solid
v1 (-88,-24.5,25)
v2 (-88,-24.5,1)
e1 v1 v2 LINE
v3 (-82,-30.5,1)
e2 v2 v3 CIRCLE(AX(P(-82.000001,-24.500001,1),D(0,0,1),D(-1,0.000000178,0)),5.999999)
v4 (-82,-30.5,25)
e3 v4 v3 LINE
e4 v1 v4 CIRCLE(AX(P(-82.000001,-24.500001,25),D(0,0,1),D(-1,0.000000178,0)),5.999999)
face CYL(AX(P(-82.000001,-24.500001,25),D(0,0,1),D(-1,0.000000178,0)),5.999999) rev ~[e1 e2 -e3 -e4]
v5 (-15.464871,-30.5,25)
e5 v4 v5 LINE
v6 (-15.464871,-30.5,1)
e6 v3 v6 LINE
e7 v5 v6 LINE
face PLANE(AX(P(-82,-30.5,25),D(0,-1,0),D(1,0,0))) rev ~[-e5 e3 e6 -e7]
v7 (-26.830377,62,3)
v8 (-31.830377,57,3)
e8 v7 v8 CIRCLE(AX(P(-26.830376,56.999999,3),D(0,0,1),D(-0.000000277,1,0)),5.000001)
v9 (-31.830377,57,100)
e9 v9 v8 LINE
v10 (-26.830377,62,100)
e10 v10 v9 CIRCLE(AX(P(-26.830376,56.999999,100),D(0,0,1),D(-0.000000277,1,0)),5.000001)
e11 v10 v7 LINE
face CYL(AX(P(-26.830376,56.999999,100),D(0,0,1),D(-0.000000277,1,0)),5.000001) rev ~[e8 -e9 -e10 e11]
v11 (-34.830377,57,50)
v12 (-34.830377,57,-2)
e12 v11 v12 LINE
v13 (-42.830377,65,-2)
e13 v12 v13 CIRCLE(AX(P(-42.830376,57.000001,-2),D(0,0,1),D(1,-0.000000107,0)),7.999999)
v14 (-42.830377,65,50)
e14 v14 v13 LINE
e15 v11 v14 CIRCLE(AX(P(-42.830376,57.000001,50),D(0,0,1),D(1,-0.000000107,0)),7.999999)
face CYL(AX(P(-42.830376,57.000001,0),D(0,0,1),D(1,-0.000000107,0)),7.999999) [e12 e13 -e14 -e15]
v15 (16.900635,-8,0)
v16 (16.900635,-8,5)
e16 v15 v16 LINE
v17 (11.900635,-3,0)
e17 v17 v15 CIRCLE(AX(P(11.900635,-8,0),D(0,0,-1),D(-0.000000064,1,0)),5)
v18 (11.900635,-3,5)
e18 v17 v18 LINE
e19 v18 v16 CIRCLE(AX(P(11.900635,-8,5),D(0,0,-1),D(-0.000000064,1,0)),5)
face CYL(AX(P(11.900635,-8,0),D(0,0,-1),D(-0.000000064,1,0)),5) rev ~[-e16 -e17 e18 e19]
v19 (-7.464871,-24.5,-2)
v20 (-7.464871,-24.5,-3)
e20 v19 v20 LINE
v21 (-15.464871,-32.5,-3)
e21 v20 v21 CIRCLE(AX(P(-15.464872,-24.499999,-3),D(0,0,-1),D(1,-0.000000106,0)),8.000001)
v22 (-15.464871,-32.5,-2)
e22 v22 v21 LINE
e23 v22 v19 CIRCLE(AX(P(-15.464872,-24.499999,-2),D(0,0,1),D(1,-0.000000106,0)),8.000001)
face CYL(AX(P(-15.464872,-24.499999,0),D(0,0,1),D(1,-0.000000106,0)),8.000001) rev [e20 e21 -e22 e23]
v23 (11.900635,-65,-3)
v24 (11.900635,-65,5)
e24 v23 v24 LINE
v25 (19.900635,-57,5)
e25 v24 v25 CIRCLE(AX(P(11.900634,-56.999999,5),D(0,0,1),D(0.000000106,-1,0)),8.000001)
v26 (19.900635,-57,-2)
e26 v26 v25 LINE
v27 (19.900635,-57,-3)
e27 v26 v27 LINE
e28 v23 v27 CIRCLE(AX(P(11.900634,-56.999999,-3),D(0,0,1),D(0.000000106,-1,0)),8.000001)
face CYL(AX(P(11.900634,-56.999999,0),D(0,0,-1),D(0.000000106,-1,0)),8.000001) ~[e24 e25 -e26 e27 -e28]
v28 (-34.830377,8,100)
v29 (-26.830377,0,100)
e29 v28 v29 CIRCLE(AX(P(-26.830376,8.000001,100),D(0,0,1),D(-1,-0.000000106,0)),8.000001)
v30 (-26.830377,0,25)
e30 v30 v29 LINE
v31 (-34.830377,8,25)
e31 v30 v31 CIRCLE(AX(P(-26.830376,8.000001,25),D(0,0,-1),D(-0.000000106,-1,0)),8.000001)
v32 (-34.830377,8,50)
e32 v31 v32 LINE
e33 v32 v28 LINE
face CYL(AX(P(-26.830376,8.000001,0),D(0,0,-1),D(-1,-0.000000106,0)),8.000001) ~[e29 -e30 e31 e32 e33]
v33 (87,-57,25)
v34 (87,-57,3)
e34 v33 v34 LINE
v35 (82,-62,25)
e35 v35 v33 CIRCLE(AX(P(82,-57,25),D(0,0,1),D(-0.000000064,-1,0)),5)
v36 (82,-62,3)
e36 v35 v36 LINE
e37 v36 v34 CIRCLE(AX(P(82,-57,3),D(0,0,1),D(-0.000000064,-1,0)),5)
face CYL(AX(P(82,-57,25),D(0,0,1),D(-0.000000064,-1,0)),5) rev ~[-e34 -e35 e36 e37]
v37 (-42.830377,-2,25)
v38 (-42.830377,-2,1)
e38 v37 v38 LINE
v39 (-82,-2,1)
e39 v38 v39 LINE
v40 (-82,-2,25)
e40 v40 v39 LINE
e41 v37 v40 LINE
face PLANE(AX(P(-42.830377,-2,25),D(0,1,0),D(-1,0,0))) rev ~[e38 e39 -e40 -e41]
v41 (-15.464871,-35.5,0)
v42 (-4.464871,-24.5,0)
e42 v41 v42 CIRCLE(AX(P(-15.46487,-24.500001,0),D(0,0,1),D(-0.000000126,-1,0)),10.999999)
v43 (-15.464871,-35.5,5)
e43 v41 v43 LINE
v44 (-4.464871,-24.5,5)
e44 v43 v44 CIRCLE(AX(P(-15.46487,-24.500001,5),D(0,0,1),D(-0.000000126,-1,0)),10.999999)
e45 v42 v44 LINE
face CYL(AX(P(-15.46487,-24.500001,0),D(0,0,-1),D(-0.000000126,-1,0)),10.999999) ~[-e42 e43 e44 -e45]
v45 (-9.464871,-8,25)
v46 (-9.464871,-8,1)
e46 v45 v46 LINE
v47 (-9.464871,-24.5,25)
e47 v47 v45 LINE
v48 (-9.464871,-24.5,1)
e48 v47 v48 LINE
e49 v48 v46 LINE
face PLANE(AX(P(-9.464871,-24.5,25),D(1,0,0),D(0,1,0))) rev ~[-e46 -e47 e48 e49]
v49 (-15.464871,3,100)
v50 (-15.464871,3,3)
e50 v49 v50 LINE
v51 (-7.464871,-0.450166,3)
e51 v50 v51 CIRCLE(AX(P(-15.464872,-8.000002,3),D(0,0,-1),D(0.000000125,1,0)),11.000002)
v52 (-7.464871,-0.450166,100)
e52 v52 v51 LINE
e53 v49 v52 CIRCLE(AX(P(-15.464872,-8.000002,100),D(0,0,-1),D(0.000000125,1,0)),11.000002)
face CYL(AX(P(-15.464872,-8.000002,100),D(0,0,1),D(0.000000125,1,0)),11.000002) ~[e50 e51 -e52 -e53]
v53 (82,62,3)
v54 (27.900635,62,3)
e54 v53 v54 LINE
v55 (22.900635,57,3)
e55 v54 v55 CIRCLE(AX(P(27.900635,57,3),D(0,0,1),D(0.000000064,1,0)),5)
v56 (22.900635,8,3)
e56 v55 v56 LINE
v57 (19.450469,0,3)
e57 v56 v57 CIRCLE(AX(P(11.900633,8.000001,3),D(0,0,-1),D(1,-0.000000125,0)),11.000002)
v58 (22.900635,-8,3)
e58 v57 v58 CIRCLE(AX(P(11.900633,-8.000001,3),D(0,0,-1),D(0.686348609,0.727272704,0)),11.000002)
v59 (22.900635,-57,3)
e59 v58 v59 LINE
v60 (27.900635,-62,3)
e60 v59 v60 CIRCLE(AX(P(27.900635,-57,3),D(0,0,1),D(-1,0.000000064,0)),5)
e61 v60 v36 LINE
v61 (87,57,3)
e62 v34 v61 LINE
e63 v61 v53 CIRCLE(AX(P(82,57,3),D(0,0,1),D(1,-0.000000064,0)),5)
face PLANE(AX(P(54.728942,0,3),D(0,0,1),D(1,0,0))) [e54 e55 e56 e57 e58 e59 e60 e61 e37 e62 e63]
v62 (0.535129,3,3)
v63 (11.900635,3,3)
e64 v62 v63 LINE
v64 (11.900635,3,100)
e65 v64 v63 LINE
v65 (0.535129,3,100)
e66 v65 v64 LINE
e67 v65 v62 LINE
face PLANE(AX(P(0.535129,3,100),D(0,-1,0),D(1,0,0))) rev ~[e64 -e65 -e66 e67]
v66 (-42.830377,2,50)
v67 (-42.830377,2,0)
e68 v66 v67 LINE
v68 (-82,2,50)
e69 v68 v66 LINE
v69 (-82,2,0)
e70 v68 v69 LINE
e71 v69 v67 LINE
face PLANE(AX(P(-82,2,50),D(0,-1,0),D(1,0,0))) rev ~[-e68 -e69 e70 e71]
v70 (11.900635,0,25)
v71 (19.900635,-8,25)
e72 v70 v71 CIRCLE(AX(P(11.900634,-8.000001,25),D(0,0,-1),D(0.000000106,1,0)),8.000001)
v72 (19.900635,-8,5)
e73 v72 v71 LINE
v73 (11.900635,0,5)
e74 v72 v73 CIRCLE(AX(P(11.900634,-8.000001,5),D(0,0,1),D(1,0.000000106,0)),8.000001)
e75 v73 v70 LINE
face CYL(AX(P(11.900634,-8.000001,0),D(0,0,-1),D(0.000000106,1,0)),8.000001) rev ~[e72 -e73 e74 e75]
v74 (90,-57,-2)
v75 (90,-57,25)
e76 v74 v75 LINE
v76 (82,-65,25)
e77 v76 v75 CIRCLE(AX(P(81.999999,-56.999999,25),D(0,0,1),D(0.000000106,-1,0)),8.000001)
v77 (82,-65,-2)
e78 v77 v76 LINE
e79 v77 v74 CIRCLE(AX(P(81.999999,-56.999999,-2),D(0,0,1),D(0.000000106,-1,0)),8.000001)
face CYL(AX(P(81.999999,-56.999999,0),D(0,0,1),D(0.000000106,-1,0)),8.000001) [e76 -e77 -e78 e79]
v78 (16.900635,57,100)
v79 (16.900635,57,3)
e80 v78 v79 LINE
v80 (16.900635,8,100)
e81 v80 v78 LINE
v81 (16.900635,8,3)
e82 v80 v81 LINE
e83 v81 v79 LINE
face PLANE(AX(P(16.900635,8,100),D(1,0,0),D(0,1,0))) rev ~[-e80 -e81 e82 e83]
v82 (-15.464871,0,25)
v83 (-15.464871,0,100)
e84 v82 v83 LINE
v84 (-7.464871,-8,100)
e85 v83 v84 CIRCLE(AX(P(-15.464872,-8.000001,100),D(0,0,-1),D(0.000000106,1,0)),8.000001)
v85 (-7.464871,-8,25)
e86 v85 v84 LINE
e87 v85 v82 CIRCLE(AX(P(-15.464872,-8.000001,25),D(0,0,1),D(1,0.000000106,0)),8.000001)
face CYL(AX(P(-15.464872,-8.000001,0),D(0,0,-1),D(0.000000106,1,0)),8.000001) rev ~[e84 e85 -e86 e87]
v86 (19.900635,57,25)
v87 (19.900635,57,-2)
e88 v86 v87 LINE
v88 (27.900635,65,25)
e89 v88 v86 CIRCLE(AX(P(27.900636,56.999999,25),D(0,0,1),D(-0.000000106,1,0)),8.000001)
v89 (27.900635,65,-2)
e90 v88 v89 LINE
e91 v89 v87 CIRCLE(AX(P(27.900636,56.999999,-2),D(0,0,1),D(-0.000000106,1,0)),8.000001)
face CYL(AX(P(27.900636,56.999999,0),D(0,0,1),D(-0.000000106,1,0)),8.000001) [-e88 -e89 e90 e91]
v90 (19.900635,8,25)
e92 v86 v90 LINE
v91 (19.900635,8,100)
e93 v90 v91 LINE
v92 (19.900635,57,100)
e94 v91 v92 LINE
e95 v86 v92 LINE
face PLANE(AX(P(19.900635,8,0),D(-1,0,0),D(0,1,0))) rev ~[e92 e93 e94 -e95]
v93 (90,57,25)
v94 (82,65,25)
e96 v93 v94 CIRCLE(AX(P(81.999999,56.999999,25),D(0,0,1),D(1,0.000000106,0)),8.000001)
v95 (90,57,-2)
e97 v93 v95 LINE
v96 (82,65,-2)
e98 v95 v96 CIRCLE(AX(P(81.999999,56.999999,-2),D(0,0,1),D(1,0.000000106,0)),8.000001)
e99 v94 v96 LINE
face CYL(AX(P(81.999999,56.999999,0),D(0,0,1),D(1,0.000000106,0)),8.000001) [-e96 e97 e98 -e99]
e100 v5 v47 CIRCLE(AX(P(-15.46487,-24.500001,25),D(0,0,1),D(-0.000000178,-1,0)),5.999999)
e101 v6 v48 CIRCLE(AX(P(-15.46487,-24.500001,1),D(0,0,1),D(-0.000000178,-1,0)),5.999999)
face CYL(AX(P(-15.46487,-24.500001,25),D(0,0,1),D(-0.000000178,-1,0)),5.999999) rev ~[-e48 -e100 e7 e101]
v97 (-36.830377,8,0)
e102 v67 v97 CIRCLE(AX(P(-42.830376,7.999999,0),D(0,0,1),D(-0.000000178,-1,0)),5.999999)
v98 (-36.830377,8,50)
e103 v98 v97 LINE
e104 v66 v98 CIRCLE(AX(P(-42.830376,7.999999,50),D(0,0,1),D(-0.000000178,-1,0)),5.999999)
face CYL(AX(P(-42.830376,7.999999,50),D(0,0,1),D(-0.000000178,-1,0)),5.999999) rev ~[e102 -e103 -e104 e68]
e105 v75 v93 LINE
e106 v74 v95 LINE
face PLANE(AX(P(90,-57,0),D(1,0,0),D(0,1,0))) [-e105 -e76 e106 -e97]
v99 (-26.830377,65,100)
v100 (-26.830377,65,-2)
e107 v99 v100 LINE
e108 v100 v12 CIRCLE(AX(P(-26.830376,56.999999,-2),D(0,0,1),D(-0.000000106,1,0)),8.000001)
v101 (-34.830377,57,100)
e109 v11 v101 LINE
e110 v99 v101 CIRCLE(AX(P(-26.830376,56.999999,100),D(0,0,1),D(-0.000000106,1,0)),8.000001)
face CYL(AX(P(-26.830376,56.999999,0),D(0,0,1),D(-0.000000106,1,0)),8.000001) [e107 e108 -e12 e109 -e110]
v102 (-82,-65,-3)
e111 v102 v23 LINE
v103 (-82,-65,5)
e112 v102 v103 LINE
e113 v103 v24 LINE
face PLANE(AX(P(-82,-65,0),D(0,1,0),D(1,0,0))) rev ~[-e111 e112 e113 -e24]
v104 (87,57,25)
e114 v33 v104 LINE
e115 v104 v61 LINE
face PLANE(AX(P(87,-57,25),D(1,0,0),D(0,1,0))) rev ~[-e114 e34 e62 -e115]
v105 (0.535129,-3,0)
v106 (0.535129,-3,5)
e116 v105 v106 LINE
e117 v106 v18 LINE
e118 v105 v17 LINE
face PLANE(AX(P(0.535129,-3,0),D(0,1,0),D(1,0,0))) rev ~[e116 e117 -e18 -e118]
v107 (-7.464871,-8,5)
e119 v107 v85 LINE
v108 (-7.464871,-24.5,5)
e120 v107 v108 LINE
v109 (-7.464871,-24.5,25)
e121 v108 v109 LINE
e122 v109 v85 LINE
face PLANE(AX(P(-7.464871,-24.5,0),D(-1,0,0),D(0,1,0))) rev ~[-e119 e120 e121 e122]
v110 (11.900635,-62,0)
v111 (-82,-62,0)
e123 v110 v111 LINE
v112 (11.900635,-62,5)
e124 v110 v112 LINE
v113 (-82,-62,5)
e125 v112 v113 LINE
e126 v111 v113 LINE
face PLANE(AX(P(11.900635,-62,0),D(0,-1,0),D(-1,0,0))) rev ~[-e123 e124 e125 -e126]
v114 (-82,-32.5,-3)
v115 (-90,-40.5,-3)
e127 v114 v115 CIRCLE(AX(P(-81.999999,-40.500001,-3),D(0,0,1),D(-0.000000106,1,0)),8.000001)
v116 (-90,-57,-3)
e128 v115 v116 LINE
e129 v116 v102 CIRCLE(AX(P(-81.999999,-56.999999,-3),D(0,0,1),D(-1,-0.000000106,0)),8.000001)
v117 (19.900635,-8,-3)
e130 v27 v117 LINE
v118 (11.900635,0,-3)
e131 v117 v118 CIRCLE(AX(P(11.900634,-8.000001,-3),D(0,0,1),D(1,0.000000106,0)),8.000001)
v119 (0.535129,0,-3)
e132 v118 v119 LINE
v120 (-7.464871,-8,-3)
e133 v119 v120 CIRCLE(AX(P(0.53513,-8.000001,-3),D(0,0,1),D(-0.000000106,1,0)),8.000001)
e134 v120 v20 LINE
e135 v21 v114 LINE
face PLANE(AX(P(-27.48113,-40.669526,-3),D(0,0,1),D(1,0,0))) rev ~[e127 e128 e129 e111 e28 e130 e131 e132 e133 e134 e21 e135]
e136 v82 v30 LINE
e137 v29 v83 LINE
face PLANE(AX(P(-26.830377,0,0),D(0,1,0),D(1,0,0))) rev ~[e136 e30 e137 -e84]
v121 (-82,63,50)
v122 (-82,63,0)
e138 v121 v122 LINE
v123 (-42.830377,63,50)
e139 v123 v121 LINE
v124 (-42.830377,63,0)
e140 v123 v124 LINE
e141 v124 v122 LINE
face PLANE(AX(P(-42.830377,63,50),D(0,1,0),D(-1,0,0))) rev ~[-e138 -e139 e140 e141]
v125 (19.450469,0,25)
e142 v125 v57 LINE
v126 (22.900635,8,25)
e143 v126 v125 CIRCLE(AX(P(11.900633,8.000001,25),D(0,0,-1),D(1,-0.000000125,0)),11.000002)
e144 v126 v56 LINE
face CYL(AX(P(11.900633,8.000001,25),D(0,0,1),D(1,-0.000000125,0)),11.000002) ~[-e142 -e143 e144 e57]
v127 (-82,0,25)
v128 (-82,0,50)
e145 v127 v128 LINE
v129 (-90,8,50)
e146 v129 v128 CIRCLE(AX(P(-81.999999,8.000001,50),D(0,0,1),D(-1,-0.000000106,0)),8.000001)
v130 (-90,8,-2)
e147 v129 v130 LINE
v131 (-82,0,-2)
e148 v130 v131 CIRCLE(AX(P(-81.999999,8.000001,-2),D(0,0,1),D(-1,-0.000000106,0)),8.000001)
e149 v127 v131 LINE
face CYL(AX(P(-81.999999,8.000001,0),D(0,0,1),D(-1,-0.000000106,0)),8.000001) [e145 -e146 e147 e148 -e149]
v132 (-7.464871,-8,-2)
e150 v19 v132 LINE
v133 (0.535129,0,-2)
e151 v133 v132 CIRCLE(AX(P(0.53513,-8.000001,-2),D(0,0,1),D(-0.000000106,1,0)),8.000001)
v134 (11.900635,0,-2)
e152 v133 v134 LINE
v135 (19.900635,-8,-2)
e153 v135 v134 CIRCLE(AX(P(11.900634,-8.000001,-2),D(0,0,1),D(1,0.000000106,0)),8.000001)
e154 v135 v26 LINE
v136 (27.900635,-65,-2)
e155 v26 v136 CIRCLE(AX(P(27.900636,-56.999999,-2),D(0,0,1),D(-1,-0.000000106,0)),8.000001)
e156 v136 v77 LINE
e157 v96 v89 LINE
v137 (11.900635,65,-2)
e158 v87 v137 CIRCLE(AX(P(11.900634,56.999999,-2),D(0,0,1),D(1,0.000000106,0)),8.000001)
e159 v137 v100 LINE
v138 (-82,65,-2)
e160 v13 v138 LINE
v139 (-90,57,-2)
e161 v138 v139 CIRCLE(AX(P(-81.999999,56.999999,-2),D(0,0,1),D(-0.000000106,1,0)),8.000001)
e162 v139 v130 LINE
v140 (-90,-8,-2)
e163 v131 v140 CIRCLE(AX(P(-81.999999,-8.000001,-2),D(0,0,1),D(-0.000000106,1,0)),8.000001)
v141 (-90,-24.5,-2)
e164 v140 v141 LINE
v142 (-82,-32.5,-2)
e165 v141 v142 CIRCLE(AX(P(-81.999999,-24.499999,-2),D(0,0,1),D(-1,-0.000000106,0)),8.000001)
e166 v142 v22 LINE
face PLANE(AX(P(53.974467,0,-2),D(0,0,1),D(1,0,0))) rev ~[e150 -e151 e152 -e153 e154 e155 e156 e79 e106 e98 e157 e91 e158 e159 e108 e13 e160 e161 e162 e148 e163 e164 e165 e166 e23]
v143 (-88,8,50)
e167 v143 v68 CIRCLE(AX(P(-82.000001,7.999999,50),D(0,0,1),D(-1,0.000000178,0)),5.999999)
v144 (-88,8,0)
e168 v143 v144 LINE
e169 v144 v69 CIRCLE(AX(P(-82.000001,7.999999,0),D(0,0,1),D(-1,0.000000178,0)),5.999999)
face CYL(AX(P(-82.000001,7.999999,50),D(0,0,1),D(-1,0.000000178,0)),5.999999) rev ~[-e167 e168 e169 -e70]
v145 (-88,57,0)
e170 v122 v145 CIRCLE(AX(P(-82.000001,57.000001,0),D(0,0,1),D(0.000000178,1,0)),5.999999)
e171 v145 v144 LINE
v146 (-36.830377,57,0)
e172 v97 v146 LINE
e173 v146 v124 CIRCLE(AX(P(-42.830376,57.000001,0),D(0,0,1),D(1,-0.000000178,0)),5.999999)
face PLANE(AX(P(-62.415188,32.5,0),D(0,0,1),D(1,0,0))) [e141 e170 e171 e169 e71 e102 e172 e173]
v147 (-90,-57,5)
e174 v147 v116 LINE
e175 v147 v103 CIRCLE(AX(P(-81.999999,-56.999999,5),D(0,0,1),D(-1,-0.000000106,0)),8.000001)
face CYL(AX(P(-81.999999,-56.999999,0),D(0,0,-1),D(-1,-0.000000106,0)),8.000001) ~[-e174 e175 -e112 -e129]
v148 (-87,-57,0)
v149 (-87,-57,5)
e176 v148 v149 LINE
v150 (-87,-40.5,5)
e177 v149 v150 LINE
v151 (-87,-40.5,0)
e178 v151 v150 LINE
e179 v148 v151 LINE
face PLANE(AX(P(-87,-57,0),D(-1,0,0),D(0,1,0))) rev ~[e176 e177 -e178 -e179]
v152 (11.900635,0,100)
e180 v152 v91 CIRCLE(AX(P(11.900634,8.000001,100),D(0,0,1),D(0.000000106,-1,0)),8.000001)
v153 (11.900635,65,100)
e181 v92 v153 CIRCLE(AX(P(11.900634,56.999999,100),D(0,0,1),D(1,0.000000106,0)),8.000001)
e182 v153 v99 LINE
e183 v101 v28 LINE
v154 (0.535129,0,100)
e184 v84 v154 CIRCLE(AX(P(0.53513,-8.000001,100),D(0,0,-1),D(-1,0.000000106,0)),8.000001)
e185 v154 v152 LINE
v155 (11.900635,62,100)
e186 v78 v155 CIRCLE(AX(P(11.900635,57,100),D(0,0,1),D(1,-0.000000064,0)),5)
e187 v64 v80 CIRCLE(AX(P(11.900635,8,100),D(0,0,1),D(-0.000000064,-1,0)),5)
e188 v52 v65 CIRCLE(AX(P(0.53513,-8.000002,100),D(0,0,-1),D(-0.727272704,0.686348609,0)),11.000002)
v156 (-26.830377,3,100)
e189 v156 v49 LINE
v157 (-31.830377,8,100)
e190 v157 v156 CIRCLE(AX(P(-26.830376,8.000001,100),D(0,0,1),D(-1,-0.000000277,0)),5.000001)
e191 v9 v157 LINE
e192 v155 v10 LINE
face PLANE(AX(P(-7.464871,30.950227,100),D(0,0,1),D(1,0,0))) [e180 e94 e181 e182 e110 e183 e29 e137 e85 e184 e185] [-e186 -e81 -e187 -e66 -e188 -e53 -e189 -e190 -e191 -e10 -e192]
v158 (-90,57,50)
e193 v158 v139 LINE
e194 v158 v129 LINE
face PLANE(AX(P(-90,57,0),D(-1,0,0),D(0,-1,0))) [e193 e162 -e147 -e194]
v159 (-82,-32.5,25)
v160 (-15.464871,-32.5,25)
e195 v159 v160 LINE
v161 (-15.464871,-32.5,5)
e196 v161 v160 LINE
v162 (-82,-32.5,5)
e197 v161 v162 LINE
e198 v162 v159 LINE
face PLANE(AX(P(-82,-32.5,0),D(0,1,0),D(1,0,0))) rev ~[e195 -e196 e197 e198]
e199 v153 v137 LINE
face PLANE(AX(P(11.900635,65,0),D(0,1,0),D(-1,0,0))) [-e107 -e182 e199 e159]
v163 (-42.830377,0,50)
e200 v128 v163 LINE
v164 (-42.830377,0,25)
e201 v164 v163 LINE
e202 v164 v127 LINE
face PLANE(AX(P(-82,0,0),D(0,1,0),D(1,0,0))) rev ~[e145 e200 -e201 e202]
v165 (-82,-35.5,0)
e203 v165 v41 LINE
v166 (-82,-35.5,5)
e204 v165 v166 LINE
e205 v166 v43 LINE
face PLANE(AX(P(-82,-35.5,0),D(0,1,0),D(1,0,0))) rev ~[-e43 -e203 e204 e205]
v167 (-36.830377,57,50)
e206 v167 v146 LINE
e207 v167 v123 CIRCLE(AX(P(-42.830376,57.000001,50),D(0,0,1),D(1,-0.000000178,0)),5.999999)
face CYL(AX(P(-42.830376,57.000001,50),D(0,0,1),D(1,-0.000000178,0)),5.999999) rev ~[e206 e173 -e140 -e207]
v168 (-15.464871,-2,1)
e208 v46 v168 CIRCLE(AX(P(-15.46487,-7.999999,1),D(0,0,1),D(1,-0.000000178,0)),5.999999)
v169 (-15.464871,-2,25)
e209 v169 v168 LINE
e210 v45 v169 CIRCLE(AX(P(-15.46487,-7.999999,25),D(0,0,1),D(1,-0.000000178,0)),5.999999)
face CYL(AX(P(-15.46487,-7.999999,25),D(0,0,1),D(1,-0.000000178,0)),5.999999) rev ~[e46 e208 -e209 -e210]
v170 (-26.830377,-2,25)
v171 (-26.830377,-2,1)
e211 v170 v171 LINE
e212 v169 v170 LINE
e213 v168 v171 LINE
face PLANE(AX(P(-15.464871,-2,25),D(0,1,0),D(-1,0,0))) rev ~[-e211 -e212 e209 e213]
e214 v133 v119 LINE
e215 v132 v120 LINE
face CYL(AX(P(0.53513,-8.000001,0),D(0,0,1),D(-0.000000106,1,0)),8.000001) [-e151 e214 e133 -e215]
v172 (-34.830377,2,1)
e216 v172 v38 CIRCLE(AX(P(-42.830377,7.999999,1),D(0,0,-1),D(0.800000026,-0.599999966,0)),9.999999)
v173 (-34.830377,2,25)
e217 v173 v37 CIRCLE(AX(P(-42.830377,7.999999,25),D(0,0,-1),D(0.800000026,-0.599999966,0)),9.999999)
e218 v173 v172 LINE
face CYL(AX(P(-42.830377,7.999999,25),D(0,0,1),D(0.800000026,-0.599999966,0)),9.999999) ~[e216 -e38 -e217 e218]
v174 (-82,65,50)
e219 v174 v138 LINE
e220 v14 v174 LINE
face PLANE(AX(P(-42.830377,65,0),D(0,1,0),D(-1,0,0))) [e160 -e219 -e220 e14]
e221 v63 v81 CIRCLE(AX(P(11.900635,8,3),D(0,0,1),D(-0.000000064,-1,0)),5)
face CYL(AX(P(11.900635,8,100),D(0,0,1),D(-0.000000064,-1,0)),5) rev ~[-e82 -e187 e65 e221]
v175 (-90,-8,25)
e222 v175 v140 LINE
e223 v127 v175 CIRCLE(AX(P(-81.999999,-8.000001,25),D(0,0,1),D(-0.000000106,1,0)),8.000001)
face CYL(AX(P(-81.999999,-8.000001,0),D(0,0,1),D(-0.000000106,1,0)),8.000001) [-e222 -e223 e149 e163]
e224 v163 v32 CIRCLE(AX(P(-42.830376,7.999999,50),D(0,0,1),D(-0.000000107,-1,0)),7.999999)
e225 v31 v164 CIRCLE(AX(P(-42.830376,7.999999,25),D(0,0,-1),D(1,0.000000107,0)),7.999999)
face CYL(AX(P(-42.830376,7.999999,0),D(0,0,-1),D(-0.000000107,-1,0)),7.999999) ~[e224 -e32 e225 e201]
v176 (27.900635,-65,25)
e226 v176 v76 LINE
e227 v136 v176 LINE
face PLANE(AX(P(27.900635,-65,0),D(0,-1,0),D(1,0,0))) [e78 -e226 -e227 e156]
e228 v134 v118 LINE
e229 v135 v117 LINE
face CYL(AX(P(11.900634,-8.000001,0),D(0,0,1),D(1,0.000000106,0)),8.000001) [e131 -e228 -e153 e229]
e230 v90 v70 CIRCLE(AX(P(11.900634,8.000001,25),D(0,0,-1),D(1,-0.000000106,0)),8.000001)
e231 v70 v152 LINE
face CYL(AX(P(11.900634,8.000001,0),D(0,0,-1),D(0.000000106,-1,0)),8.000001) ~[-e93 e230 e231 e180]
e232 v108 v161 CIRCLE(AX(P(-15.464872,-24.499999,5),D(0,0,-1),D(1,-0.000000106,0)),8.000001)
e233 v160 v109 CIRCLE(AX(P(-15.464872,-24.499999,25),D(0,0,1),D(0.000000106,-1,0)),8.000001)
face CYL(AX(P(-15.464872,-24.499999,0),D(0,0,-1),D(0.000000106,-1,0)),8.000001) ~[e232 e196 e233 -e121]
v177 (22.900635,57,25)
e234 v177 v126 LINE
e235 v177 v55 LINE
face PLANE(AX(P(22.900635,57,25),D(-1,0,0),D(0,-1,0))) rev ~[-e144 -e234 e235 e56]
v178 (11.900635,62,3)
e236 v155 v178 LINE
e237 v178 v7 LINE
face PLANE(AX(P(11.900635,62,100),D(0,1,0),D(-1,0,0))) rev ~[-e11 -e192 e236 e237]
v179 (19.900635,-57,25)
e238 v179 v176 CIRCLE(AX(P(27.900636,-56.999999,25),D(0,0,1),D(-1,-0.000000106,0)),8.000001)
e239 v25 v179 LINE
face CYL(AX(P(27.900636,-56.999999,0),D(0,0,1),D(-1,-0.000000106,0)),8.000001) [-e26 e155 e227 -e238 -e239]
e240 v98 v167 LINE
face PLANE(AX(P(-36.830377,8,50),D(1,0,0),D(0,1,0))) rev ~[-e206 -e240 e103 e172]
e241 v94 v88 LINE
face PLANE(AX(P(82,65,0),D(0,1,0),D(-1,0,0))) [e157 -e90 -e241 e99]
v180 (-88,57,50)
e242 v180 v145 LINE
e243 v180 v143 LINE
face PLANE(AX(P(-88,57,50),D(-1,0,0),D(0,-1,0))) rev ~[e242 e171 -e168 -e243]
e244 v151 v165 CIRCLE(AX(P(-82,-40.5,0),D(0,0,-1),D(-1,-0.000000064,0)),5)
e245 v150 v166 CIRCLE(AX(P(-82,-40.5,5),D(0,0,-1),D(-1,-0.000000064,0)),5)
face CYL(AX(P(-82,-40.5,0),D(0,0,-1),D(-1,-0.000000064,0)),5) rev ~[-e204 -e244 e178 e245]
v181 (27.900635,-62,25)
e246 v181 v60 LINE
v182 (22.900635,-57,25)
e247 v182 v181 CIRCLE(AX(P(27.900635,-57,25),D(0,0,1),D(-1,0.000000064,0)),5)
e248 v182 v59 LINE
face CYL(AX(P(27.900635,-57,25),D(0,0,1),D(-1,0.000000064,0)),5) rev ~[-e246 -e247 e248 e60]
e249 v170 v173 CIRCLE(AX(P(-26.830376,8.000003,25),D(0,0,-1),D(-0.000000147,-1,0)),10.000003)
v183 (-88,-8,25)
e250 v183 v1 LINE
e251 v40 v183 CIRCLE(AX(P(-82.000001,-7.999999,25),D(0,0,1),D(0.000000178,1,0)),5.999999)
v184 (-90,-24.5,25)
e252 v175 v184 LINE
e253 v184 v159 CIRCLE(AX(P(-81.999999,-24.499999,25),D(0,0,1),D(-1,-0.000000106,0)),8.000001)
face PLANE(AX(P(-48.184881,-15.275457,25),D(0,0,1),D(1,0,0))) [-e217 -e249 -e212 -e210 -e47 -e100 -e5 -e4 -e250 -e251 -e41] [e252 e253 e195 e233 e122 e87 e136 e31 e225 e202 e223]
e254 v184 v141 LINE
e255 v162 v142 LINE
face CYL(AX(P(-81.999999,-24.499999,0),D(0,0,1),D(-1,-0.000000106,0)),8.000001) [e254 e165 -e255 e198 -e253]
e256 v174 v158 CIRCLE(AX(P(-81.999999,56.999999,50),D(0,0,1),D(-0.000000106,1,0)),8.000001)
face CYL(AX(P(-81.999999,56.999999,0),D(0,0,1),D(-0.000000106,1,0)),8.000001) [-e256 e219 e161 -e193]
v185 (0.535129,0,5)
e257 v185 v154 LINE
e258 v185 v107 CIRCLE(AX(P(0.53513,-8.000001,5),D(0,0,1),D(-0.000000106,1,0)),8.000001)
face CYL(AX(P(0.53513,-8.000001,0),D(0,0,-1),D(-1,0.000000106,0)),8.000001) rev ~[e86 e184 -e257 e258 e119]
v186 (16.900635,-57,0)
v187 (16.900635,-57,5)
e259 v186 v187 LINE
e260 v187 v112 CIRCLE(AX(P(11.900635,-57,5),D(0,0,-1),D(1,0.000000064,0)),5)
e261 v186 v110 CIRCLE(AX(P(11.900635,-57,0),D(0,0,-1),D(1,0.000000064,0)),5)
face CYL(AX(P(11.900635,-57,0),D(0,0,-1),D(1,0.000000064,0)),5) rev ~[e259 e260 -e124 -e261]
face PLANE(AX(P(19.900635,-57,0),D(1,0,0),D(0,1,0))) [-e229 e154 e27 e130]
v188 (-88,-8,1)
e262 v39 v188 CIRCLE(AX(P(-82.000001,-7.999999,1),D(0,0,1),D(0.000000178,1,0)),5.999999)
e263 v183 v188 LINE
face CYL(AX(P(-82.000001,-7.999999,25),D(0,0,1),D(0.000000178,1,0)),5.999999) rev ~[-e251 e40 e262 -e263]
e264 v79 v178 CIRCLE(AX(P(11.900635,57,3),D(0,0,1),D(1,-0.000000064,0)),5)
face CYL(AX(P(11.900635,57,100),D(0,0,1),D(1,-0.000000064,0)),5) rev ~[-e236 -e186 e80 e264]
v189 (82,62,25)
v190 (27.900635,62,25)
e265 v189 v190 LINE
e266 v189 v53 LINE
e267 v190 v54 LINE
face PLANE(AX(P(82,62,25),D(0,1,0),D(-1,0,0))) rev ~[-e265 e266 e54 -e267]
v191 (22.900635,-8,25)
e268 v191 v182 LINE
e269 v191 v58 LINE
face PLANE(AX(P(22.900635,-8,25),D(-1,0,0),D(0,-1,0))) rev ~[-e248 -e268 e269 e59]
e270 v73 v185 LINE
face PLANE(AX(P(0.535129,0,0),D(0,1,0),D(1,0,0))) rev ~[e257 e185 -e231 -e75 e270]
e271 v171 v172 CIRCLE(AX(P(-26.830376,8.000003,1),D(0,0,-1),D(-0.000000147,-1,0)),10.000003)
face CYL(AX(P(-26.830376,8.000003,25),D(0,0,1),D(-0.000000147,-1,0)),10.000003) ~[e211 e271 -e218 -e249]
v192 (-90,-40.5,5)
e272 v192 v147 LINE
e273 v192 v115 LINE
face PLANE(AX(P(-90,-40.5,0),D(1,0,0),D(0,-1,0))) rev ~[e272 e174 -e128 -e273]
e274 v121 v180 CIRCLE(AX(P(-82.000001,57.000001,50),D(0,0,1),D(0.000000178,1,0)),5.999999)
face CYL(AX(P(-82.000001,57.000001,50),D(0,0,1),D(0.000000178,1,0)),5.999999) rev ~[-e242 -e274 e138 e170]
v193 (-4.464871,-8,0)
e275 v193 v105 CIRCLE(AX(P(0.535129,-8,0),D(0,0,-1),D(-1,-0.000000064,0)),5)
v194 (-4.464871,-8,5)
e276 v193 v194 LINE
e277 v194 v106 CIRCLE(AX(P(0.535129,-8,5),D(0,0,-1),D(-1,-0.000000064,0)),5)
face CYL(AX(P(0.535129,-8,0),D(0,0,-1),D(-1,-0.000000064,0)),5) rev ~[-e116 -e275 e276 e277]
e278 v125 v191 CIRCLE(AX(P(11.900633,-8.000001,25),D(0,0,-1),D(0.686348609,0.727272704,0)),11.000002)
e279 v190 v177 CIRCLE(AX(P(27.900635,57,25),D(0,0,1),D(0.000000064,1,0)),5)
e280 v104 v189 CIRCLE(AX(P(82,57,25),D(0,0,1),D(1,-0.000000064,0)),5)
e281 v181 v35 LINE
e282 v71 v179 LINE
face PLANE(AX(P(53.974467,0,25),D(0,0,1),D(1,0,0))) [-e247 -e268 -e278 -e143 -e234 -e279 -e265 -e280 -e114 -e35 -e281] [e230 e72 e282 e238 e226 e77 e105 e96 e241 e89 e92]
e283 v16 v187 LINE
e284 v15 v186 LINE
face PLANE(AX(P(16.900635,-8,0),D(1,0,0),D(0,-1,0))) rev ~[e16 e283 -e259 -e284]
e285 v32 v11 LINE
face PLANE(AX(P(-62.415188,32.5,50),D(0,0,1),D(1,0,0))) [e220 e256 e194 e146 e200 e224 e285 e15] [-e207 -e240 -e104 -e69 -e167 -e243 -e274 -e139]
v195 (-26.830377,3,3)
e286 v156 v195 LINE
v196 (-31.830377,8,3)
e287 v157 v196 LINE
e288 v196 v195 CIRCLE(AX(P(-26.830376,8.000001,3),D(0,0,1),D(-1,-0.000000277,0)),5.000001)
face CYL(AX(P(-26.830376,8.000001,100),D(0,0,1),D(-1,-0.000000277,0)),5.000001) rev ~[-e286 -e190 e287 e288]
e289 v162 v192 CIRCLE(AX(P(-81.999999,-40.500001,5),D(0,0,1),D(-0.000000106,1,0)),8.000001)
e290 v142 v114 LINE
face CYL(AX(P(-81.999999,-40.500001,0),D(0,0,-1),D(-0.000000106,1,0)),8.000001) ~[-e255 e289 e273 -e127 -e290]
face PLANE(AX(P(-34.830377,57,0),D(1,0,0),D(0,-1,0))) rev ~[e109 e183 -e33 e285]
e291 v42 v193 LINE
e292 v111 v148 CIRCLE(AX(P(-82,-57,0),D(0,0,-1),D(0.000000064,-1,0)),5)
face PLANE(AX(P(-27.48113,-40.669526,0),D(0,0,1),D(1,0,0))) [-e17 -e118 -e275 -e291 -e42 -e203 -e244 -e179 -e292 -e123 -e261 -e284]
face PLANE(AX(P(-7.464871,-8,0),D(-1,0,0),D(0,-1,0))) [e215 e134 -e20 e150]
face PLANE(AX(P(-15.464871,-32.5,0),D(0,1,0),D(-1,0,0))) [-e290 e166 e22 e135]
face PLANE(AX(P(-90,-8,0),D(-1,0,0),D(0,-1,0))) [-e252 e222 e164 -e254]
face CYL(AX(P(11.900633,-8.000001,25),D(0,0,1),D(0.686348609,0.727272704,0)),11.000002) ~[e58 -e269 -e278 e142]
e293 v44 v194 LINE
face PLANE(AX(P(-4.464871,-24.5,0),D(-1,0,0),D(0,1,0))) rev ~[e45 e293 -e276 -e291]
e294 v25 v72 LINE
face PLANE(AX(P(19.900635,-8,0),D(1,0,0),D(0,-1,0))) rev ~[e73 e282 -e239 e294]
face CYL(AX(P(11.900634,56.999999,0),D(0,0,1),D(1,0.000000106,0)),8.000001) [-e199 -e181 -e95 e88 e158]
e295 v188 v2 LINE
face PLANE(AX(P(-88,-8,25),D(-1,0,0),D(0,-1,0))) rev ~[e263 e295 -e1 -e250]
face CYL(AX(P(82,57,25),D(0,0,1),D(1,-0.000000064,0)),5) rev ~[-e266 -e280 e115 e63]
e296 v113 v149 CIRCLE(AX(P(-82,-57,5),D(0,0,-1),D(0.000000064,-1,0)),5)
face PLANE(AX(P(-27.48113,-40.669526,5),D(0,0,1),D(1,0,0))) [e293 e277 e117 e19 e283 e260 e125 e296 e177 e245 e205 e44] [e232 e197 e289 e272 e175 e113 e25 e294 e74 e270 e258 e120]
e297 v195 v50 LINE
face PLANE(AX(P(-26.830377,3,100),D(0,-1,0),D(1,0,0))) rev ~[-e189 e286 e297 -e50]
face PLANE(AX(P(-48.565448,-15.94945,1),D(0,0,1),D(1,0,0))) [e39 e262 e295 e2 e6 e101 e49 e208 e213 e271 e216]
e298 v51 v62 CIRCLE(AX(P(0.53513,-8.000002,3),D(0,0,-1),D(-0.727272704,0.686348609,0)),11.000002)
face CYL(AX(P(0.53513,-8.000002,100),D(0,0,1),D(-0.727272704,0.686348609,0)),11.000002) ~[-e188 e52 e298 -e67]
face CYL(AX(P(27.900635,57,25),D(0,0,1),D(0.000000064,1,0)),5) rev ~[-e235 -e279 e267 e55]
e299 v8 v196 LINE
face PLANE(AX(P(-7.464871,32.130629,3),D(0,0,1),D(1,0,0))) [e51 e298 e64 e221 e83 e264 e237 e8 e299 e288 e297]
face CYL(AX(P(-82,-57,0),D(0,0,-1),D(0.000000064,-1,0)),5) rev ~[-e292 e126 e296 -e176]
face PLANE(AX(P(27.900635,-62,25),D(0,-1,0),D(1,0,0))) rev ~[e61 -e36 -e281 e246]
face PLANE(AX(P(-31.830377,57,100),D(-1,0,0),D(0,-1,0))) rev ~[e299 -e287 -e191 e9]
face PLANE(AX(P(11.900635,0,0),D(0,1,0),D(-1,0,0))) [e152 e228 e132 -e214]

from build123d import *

# Parameters (mm, degrees)
F1_DEPTH  = 3
F2_DEPTH  = 50
F3_DEPTH  = 100
F4_DEPTH  = 25
F5_DEPTH  = 25
F7_DEPTH  = 22
F8_DEPTH  = 2
F10_DEPTH = 97
F12_DEPTH = 50
F14_DEPTH = 24
F16_DEPTH = 5


with BuildPart() as f1:
    # F0 (on Top) → F1 (new body)
    with BuildSketch(Plane.XY):
        with BuildLine():
            Line((-82, -65), (11.900635, -65))
            ThreePointArc((11.900635, -65), (17.557489, -62.656854), (19.900635, -57))
            Line((19.900635, -57), (19.900635, -8))
            ThreePointArc((19.900635, -8), (17.557489, -2.343146), (11.900635, 0))
            Line((11.900635, 0), (0.535129, 0))
            ThreePointArc((0.535129, 0), (-5.121725, -2.343146), (-7.464871, -8))
            Line((-7.464871, -8), (-7.464871, -24.5))
            ThreePointArc((-7.464871, -24.5), (-9.808017, -30.156854), (-15.464871, -32.5))
            Line((-15.464871, -32.5), (-82, -32.5))
            ThreePointArc((-82, -32.5), (-87.656854, -34.843146), (-90, -40.5))
            Line((-90, -40.5), (-90, -57))
            ThreePointArc((-90, -57), (-87.656854, -62.656854), (-82, -65))
        make_face()
    extrude(amount=-F1_DEPTH)



with BuildPart() as f2:
    # F0 (on Top) → F2 (new body)
    with BuildSketch(Plane.XY):
        with BuildLine():
            ThreePointArc((-90, 8), (-87.656854, 2.343146), (-82, 0))
            Line((-82, 0), (-42.830377, 0))
            ThreePointArc((-42.830377, 0), (-37.173522, 2.343146), (-34.830377, 8))
            Line((-34.830377, 8), (-34.830377, 57))
            ThreePointArc((-34.830377, 57), (-37.173522, 62.656854), (-42.830377, 65))
            Line((-42.830377, 65), (-82, 65))
            ThreePointArc((-82, 65), (-87.656854, 62.656854), (-90, 57))
            Line((-90, 57), (-90, 8))
        make_face()
    extrude(amount=F2_DEPTH)


with BuildPart() as f1_1:
    add(f1.part)

    add(f2.part)  # F3 merges F2
    # F0 (on Top) → F3 (join)
    with BuildSketch(Plane.XY):
        with BuildLine():
            Line((0.535129, 0), (11.900635, 0))
            ThreePointArc((11.900635, 0), (17.557489, 2.343146), (19.900635, 8))
            Line((19.900635, 8), (19.900635, 57))
            ThreePointArc((19.900635, 57), (17.557489, 62.656854), (11.900635, 65))
            Line((11.900635, 65), (-26.830377, 65))
            ThreePointArc((-26.830377, 65), (-32.487231, 62.656854), (-34.830377, 57))
            Line((-34.830377, 57), (-34.830377, 8))
            ThreePointArc((-34.830377, 8), (-32.487231, 2.343146), (-26.830377, 0))
            Line((-26.830377, 0), (-15.464871, 0))
            ThreePointArc((-15.464871, 0), (-9.808017, -2.343146), (-7.464871, -8))
            ThreePointArc((-7.464871, -8), (-5.121725, -2.343146), (0.535129, 0))
        make_face()
    extrude(amount=F3_DEPTH)

    # F0 (on Top) → F4 (join)
    with BuildSketch(Plane.XY):
        with BuildLine():
            ThreePointArc((-90, -24.5), (-87.656854, -30.156854), (-82, -32.5))
            Line((-82, -32.5), (-15.464871, -32.5))
            ThreePointArc((-15.464871, -32.5), (-9.808017, -30.156854), (-7.464871, -24.5))
            Line((-7.464871, -24.5), (-7.464871, -8))
            ThreePointArc((-7.464871, -8), (-9.808017, -2.343146), (-15.464871, 0))
            Line((-15.464871, 0), (-26.830377, 0))
            ThreePointArc((-26.830377, 0), (-32.487231, 2.343146), (-34.830377, 8))
            ThreePointArc((-34.830377, 8), (-37.173522, 2.343146), (-42.830377, 0))
            Line((-42.830377, 0), (-82, 0))
            ThreePointArc((-82, 0), (-87.656854, -2.343146), (-90, -8))
            Line((-90, -8), (-90, -24.5))
        make_face()
    extrude(amount=F4_DEPTH)

    # F0 (on Top) → F5 (join)
    with BuildSketch(Plane.XY):
        with BuildLine():
            Line((19.900635, -8), (19.900635, -57))
            ThreePointArc((19.900635, -57), (22.243781, -62.656854), (27.900635, -65))
            Line((27.900635, -65), (82, -65))
            ThreePointArc((82, -65), (87.656854, -62.656854), (90, -57))
            Line((90, -57), (90, 57))
            ThreePointArc((90, 57), (87.656854, 62.656854), (82, 65))
            Line((82, 65), (27.900635, 65))
            ThreePointArc((27.900635, 65), (22.243781, 62.656854), (19.900635, 57))
            Line((19.900635, 57), (19.900635, 8))
            ThreePointArc((19.900635, 8), (17.557489, 2.343146), (11.900635, 0))
            ThreePointArc((11.900635, 0), (17.557489, -2.343146), (19.900635, -8))
        make_face()
    extrude(amount=F5_DEPTH)

    # F6 (on face) → F7 (cut)
    with BuildSketch(Plane.XY.offset(25)):
        with BuildLine():
            Line((22.900635, 57), (22.900635, 8))
            ThreePointArc((22.900635, 8), (22.001332, 3.643865), (19.450469, 0))
            ThreePointArc((19.450469, 0), (22.001332, -3.643865), (22.900635, -8))
            Line((22.900635, -8), (22.900635, -57))
            ThreePointArc((22.900635, -57), (24.365101, -60.535534), (27.900635, -62))
            Line((27.900635, -62), (82, -62))
            ThreePointArc((82, -62), (85.535534, -60.535534), (87, -57))
            Line((87, -57), (87, 57))
            ThreePointArc((87, 57), (85.535534, 60.535534), (82, 62))
            Line((82, 62), (27.900635, 62))
            ThreePointArc((27.900635, 62), (24.365101, 60.535534), (22.900635, 57))
        make_face()
    extrude(amount=-F7_DEPTH, mode=Mode.SUBTRACT)

    # F0 (on Top) → F8 (join)
    with BuildSketch(Plane.XY):
        with BuildLine():
            Line((19.900635, -8), (19.900635, -57))
            ThreePointArc((19.900635, -57), (22.243781, -62.656854), (27.900635, -65))
            Line((27.900635, -65), (82, -65))
            ThreePointArc((82, -65), (87.656854, -62.656854), (90, -57))
            Line((90, -57), (90, 57))
            ThreePointArc((90, 57), (87.656854, 62.656854), (82, 65))
            Line((82, 65), (27.900635, 65))
            ThreePointArc((27.900635, 65), (22.243781, 62.656854), (19.900635, 57))
            Line((19.900635, 57), (19.900635, 8))
            ThreePointArc((19.900635, 8), (17.557489, 2.343146), (11.900635, 0))
            ThreePointArc((11.900635, 0), (17.557489, -2.343146), (19.900635, -8))
        make_face()
        with BuildLine():
            Line((0.535129, 0), (11.900635, 0))
            ThreePointArc((11.900635, 0), (17.557489, 2.343146), (19.900635, 8))
            Line((19.900635, 8), (19.900635, 57))
            ThreePointArc((19.900635, 57), (17.557489, 62.656854), (11.900635, 65))
            Line((11.900635, 65), (-26.830377, 65))
            ThreePointArc((-26.830377, 65), (-32.487231, 62.656854), (-34.830377, 57))
            Line((-34.830377, 57), (-34.830377, 8))
            ThreePointArc((-34.830377, 8), (-32.487231, 2.343146), (-26.830377, 0))
            Line((-26.830377, 0), (-15.464871, 0))
            ThreePointArc((-15.464871, 0), (-9.808017, -2.343146), (-7.464871, -8))
            ThreePointArc((-7.464871, -8), (-5.121725, -2.343146), (0.535129, 0))
        make_face()
        with BuildLine():
            Line((-82, -65), (11.900635, -65))
            ThreePointArc((11.900635, -65), (17.557489, -62.656854), (19.900635, -57))
            Line((19.900635, -57), (19.900635, -8))
            ThreePointArc((19.900635, -8), (17.557489, -2.343146), (11.900635, 0))
            Line((11.900635, 0), (0.535129, 0))
            ThreePointArc((0.535129, 0), (-5.121725, -2.343146), (-7.464871, -8))
            Line((-7.464871, -8), (-7.464871, -24.5))
            ThreePointArc((-7.464871, -24.5), (-9.808017, -30.156854), (-15.464871, -32.5))
            Line((-15.464871, -32.5), (-82, -32.5))
            ThreePointArc((-82, -32.5), (-87.656854, -34.843146), (-90, -40.5))
            Line((-90, -40.5), (-90, -57))
            ThreePointArc((-90, -57), (-87.656854, -62.656854), (-82, -65))
        make_face()
        with BuildLine():
            ThreePointArc((-90, -24.5), (-87.656854, -30.156854), (-82, -32.5))
            Line((-82, -32.5), (-15.464871, -32.5))
            ThreePointArc((-15.464871, -32.5), (-9.808017, -30.156854), (-7.464871, -24.5))
            Line((-7.464871, -24.5), (-7.464871, -8))
            ThreePointArc((-7.464871, -8), (-9.808017, -2.343146), (-15.464871, 0))
            Line((-15.464871, 0), (-26.830377, 0))
            ThreePointArc((-26.830377, 0), (-32.487231, 2.343146), (-34.830377, 8))
            ThreePointArc((-34.830377, 8), (-37.173522, 2.343146), (-42.830377, 0))
            Line((-42.830377, 0), (-82, 0))
            ThreePointArc((-82, 0), (-87.656854, -2.343146), (-90, -8))
            Line((-90, -8), (-90, -24.5))
        make_face()
        with BuildLine():
            ThreePointArc((-90, 8), (-87.656854, 2.343146), (-82, 0))
            Line((-82, 0), (-42.830377, 0))
            ThreePointArc((-42.830377, 0), (-37.173522, 2.343146), (-34.830377, 8))
            Line((-34.830377, 8), (-34.830377, 57))
            ThreePointArc((-34.830377, 57), (-37.173522, 62.656854), (-42.830377, 65))
            Line((-42.830377, 65), (-82, 65))
            ThreePointArc((-82, 65), (-87.656854, 62.656854), (-90, 57))
            Line((-90, 57), (-90, 8))
        make_face()
    extrude(amount=-F8_DEPTH)

    # F9 (on face) → F10 (cut)
    with BuildSketch(Plane.XY.offset(100)):
        with BuildLine():
            Line((-26.830377, 3), (-15.464871, 3))
            ThreePointArc((-15.464871, 3), (-11.108736, 2.100697), (-7.464871, -0.450166))
            ThreePointArc((-7.464871, -0.450166), (-3.821006, 2.100697), (0.535129, 3))
            Line((0.535129, 3), (11.900635, 3))
            ThreePointArc((11.900635, 3), (15.436169, 4.464466), (16.900635, 8))
            Line((16.900635, 8), (16.900635, 57))
            ThreePointArc((16.900635, 57), (15.436169, 60.535534), (11.900635, 62))
            Line((11.900635, 62), (-26.830377, 62))
            ThreePointArc((-26.830377, 62), (-30.36591, 60.535534), (-31.830377, 57))
            Line((-31.830377, 57), (-31.830377, 8))
            ThreePointArc((-31.830377, 8), (-30.36591, 4.464466), (-26.830377, 3))
        make_face()
    extrude(amount=-F10_DEPTH, mode=Mode.SUBTRACT)

    # F11 (on face) → F12 (cut)
    with BuildSketch(Plane.XY.offset(50)):
        with BuildLine():
            Line((-88, 57), (-88, 8))
            ThreePointArc((-88, 8), (-86.242641, 3.757359), (-82, 2))
            Line((-82, 2), (-42.830377, 2))
            ThreePointArc((-42.830377, 2), (-38.587736, 3.757359), (-36.830377, 8))
            Line((-36.830377, 8), (-36.830377, 57))
            ThreePointArc((-36.830377, 57), (-38.587736, 61.242641), (-42.830377, 63))
            Line((-42.830377, 63), (-82, 63))
            ThreePointArc((-82, 63), (-86.242641, 61.242641), (-88, 57))
        make_face()
    extrude(amount=-F12_DEPTH, mode=Mode.SUBTRACT)

    # F13 (on face) → F14 (cut)
    with BuildSketch(Plane.XY.offset(25)):
        with BuildLine():
            Line((-88, -8), (-88, -24.5))
            ThreePointArc((-88, -24.5), (-86.242641, -28.742641), (-82, -30.5))
            Line((-82, -30.5), (-15.464871, -30.5))
            ThreePointArc((-15.464871, -30.5), (-11.22223, -28.742641), (-9.464871, -24.5))
            Line((-9.464871, -24.5), (-9.464871, -8))
            ThreePointArc((-9.464871, -8), (-11.22223, -3.757359), (-15.464871, -2))
            Line((-15.464871, -2), (-26.830377, -2))
            ThreePointArc((-26.830377, -2), (-31.302512, -0.944272), (-34.830377, 2))
            ThreePointArc((-34.830377, 2), (-38.358241, -0.944272), (-42.830377, -2))
            Line((-42.830377, -2), (-82, -2))
            ThreePointArc((-82, -2), (-86.242641, -3.757359), (-88, -8))
        make_face()
    extrude(amount=-F14_DEPTH, mode=Mode.SUBTRACT)

    # F15 (on face) → F16 (join)
    with BuildSketch(Plane.XY):
        with BuildLine():
            ThreePointArc((-90, -57), (-87.656854, -62.656854), (-82, -65))
            Line((-82, -65), (11.900635, -65))
            ThreePointArc((11.900635, -65), (17.557489, -62.656854), (19.900635, -57))
            Line((19.900635, -57), (19.900635, -8))
            ThreePointArc((19.900635, -8), (17.557489, -2.343146), (11.900635, 0))
            Line((11.900635, 0), (0.535129, 0))
            ThreePointArc((0.535129, 0), (-5.121725, -2.343146), (-7.464871, -8))
            Line((-7.464871, -8), (-7.464871, -24.5))
            ThreePointArc((-7.464871, -24.5), (-9.808017, -30.156854), (-15.464871, -32.5))
            Line((-15.464871, -32.5), (-82, -32.5))
            ThreePointArc((-82, -32.5), (-87.656854, -34.843146), (-90, -40.5))
            Line((-90, -40.5), (-90, -57))
        make_face()
        with BuildLine():
            ThreePointArc((16.900635, -57), (15.436169, -60.535534), (11.900635, -62))
            Line((11.900635, -62), (-82, -62))
            ThreePointArc((-82, -62), (-85.535534, -60.535534), (-87, -57))
            Line((-87, -57), (-87, -40.5))
            ThreePointArc((-87, -40.5), (-85.535534, -36.964466), (-82, -35.5))
            Line((-82, -35.5), (-15.464871, -35.5))
            ThreePointArc((-15.464871, -35.5), (-7.686696, -32.278175), (-4.464871, -24.5))
            Line((-4.464871, -24.5), (-4.464871, -8))
            ThreePointArc((-4.464871, -8), (-3.000405, -4.464466), (0.535129, -3))
            Line((0.535129, -3), (11.900635, -3))
            ThreePointArc((11.900635, -3), (15.436169, -4.464466), (16.900635, -8))
            Line((16.900635, -8), (16.900635, -57))
        make_face(mode=Mode.SUBTRACT)
    extrude(amount=F16_DEPTH)


solid = f1_1.part
